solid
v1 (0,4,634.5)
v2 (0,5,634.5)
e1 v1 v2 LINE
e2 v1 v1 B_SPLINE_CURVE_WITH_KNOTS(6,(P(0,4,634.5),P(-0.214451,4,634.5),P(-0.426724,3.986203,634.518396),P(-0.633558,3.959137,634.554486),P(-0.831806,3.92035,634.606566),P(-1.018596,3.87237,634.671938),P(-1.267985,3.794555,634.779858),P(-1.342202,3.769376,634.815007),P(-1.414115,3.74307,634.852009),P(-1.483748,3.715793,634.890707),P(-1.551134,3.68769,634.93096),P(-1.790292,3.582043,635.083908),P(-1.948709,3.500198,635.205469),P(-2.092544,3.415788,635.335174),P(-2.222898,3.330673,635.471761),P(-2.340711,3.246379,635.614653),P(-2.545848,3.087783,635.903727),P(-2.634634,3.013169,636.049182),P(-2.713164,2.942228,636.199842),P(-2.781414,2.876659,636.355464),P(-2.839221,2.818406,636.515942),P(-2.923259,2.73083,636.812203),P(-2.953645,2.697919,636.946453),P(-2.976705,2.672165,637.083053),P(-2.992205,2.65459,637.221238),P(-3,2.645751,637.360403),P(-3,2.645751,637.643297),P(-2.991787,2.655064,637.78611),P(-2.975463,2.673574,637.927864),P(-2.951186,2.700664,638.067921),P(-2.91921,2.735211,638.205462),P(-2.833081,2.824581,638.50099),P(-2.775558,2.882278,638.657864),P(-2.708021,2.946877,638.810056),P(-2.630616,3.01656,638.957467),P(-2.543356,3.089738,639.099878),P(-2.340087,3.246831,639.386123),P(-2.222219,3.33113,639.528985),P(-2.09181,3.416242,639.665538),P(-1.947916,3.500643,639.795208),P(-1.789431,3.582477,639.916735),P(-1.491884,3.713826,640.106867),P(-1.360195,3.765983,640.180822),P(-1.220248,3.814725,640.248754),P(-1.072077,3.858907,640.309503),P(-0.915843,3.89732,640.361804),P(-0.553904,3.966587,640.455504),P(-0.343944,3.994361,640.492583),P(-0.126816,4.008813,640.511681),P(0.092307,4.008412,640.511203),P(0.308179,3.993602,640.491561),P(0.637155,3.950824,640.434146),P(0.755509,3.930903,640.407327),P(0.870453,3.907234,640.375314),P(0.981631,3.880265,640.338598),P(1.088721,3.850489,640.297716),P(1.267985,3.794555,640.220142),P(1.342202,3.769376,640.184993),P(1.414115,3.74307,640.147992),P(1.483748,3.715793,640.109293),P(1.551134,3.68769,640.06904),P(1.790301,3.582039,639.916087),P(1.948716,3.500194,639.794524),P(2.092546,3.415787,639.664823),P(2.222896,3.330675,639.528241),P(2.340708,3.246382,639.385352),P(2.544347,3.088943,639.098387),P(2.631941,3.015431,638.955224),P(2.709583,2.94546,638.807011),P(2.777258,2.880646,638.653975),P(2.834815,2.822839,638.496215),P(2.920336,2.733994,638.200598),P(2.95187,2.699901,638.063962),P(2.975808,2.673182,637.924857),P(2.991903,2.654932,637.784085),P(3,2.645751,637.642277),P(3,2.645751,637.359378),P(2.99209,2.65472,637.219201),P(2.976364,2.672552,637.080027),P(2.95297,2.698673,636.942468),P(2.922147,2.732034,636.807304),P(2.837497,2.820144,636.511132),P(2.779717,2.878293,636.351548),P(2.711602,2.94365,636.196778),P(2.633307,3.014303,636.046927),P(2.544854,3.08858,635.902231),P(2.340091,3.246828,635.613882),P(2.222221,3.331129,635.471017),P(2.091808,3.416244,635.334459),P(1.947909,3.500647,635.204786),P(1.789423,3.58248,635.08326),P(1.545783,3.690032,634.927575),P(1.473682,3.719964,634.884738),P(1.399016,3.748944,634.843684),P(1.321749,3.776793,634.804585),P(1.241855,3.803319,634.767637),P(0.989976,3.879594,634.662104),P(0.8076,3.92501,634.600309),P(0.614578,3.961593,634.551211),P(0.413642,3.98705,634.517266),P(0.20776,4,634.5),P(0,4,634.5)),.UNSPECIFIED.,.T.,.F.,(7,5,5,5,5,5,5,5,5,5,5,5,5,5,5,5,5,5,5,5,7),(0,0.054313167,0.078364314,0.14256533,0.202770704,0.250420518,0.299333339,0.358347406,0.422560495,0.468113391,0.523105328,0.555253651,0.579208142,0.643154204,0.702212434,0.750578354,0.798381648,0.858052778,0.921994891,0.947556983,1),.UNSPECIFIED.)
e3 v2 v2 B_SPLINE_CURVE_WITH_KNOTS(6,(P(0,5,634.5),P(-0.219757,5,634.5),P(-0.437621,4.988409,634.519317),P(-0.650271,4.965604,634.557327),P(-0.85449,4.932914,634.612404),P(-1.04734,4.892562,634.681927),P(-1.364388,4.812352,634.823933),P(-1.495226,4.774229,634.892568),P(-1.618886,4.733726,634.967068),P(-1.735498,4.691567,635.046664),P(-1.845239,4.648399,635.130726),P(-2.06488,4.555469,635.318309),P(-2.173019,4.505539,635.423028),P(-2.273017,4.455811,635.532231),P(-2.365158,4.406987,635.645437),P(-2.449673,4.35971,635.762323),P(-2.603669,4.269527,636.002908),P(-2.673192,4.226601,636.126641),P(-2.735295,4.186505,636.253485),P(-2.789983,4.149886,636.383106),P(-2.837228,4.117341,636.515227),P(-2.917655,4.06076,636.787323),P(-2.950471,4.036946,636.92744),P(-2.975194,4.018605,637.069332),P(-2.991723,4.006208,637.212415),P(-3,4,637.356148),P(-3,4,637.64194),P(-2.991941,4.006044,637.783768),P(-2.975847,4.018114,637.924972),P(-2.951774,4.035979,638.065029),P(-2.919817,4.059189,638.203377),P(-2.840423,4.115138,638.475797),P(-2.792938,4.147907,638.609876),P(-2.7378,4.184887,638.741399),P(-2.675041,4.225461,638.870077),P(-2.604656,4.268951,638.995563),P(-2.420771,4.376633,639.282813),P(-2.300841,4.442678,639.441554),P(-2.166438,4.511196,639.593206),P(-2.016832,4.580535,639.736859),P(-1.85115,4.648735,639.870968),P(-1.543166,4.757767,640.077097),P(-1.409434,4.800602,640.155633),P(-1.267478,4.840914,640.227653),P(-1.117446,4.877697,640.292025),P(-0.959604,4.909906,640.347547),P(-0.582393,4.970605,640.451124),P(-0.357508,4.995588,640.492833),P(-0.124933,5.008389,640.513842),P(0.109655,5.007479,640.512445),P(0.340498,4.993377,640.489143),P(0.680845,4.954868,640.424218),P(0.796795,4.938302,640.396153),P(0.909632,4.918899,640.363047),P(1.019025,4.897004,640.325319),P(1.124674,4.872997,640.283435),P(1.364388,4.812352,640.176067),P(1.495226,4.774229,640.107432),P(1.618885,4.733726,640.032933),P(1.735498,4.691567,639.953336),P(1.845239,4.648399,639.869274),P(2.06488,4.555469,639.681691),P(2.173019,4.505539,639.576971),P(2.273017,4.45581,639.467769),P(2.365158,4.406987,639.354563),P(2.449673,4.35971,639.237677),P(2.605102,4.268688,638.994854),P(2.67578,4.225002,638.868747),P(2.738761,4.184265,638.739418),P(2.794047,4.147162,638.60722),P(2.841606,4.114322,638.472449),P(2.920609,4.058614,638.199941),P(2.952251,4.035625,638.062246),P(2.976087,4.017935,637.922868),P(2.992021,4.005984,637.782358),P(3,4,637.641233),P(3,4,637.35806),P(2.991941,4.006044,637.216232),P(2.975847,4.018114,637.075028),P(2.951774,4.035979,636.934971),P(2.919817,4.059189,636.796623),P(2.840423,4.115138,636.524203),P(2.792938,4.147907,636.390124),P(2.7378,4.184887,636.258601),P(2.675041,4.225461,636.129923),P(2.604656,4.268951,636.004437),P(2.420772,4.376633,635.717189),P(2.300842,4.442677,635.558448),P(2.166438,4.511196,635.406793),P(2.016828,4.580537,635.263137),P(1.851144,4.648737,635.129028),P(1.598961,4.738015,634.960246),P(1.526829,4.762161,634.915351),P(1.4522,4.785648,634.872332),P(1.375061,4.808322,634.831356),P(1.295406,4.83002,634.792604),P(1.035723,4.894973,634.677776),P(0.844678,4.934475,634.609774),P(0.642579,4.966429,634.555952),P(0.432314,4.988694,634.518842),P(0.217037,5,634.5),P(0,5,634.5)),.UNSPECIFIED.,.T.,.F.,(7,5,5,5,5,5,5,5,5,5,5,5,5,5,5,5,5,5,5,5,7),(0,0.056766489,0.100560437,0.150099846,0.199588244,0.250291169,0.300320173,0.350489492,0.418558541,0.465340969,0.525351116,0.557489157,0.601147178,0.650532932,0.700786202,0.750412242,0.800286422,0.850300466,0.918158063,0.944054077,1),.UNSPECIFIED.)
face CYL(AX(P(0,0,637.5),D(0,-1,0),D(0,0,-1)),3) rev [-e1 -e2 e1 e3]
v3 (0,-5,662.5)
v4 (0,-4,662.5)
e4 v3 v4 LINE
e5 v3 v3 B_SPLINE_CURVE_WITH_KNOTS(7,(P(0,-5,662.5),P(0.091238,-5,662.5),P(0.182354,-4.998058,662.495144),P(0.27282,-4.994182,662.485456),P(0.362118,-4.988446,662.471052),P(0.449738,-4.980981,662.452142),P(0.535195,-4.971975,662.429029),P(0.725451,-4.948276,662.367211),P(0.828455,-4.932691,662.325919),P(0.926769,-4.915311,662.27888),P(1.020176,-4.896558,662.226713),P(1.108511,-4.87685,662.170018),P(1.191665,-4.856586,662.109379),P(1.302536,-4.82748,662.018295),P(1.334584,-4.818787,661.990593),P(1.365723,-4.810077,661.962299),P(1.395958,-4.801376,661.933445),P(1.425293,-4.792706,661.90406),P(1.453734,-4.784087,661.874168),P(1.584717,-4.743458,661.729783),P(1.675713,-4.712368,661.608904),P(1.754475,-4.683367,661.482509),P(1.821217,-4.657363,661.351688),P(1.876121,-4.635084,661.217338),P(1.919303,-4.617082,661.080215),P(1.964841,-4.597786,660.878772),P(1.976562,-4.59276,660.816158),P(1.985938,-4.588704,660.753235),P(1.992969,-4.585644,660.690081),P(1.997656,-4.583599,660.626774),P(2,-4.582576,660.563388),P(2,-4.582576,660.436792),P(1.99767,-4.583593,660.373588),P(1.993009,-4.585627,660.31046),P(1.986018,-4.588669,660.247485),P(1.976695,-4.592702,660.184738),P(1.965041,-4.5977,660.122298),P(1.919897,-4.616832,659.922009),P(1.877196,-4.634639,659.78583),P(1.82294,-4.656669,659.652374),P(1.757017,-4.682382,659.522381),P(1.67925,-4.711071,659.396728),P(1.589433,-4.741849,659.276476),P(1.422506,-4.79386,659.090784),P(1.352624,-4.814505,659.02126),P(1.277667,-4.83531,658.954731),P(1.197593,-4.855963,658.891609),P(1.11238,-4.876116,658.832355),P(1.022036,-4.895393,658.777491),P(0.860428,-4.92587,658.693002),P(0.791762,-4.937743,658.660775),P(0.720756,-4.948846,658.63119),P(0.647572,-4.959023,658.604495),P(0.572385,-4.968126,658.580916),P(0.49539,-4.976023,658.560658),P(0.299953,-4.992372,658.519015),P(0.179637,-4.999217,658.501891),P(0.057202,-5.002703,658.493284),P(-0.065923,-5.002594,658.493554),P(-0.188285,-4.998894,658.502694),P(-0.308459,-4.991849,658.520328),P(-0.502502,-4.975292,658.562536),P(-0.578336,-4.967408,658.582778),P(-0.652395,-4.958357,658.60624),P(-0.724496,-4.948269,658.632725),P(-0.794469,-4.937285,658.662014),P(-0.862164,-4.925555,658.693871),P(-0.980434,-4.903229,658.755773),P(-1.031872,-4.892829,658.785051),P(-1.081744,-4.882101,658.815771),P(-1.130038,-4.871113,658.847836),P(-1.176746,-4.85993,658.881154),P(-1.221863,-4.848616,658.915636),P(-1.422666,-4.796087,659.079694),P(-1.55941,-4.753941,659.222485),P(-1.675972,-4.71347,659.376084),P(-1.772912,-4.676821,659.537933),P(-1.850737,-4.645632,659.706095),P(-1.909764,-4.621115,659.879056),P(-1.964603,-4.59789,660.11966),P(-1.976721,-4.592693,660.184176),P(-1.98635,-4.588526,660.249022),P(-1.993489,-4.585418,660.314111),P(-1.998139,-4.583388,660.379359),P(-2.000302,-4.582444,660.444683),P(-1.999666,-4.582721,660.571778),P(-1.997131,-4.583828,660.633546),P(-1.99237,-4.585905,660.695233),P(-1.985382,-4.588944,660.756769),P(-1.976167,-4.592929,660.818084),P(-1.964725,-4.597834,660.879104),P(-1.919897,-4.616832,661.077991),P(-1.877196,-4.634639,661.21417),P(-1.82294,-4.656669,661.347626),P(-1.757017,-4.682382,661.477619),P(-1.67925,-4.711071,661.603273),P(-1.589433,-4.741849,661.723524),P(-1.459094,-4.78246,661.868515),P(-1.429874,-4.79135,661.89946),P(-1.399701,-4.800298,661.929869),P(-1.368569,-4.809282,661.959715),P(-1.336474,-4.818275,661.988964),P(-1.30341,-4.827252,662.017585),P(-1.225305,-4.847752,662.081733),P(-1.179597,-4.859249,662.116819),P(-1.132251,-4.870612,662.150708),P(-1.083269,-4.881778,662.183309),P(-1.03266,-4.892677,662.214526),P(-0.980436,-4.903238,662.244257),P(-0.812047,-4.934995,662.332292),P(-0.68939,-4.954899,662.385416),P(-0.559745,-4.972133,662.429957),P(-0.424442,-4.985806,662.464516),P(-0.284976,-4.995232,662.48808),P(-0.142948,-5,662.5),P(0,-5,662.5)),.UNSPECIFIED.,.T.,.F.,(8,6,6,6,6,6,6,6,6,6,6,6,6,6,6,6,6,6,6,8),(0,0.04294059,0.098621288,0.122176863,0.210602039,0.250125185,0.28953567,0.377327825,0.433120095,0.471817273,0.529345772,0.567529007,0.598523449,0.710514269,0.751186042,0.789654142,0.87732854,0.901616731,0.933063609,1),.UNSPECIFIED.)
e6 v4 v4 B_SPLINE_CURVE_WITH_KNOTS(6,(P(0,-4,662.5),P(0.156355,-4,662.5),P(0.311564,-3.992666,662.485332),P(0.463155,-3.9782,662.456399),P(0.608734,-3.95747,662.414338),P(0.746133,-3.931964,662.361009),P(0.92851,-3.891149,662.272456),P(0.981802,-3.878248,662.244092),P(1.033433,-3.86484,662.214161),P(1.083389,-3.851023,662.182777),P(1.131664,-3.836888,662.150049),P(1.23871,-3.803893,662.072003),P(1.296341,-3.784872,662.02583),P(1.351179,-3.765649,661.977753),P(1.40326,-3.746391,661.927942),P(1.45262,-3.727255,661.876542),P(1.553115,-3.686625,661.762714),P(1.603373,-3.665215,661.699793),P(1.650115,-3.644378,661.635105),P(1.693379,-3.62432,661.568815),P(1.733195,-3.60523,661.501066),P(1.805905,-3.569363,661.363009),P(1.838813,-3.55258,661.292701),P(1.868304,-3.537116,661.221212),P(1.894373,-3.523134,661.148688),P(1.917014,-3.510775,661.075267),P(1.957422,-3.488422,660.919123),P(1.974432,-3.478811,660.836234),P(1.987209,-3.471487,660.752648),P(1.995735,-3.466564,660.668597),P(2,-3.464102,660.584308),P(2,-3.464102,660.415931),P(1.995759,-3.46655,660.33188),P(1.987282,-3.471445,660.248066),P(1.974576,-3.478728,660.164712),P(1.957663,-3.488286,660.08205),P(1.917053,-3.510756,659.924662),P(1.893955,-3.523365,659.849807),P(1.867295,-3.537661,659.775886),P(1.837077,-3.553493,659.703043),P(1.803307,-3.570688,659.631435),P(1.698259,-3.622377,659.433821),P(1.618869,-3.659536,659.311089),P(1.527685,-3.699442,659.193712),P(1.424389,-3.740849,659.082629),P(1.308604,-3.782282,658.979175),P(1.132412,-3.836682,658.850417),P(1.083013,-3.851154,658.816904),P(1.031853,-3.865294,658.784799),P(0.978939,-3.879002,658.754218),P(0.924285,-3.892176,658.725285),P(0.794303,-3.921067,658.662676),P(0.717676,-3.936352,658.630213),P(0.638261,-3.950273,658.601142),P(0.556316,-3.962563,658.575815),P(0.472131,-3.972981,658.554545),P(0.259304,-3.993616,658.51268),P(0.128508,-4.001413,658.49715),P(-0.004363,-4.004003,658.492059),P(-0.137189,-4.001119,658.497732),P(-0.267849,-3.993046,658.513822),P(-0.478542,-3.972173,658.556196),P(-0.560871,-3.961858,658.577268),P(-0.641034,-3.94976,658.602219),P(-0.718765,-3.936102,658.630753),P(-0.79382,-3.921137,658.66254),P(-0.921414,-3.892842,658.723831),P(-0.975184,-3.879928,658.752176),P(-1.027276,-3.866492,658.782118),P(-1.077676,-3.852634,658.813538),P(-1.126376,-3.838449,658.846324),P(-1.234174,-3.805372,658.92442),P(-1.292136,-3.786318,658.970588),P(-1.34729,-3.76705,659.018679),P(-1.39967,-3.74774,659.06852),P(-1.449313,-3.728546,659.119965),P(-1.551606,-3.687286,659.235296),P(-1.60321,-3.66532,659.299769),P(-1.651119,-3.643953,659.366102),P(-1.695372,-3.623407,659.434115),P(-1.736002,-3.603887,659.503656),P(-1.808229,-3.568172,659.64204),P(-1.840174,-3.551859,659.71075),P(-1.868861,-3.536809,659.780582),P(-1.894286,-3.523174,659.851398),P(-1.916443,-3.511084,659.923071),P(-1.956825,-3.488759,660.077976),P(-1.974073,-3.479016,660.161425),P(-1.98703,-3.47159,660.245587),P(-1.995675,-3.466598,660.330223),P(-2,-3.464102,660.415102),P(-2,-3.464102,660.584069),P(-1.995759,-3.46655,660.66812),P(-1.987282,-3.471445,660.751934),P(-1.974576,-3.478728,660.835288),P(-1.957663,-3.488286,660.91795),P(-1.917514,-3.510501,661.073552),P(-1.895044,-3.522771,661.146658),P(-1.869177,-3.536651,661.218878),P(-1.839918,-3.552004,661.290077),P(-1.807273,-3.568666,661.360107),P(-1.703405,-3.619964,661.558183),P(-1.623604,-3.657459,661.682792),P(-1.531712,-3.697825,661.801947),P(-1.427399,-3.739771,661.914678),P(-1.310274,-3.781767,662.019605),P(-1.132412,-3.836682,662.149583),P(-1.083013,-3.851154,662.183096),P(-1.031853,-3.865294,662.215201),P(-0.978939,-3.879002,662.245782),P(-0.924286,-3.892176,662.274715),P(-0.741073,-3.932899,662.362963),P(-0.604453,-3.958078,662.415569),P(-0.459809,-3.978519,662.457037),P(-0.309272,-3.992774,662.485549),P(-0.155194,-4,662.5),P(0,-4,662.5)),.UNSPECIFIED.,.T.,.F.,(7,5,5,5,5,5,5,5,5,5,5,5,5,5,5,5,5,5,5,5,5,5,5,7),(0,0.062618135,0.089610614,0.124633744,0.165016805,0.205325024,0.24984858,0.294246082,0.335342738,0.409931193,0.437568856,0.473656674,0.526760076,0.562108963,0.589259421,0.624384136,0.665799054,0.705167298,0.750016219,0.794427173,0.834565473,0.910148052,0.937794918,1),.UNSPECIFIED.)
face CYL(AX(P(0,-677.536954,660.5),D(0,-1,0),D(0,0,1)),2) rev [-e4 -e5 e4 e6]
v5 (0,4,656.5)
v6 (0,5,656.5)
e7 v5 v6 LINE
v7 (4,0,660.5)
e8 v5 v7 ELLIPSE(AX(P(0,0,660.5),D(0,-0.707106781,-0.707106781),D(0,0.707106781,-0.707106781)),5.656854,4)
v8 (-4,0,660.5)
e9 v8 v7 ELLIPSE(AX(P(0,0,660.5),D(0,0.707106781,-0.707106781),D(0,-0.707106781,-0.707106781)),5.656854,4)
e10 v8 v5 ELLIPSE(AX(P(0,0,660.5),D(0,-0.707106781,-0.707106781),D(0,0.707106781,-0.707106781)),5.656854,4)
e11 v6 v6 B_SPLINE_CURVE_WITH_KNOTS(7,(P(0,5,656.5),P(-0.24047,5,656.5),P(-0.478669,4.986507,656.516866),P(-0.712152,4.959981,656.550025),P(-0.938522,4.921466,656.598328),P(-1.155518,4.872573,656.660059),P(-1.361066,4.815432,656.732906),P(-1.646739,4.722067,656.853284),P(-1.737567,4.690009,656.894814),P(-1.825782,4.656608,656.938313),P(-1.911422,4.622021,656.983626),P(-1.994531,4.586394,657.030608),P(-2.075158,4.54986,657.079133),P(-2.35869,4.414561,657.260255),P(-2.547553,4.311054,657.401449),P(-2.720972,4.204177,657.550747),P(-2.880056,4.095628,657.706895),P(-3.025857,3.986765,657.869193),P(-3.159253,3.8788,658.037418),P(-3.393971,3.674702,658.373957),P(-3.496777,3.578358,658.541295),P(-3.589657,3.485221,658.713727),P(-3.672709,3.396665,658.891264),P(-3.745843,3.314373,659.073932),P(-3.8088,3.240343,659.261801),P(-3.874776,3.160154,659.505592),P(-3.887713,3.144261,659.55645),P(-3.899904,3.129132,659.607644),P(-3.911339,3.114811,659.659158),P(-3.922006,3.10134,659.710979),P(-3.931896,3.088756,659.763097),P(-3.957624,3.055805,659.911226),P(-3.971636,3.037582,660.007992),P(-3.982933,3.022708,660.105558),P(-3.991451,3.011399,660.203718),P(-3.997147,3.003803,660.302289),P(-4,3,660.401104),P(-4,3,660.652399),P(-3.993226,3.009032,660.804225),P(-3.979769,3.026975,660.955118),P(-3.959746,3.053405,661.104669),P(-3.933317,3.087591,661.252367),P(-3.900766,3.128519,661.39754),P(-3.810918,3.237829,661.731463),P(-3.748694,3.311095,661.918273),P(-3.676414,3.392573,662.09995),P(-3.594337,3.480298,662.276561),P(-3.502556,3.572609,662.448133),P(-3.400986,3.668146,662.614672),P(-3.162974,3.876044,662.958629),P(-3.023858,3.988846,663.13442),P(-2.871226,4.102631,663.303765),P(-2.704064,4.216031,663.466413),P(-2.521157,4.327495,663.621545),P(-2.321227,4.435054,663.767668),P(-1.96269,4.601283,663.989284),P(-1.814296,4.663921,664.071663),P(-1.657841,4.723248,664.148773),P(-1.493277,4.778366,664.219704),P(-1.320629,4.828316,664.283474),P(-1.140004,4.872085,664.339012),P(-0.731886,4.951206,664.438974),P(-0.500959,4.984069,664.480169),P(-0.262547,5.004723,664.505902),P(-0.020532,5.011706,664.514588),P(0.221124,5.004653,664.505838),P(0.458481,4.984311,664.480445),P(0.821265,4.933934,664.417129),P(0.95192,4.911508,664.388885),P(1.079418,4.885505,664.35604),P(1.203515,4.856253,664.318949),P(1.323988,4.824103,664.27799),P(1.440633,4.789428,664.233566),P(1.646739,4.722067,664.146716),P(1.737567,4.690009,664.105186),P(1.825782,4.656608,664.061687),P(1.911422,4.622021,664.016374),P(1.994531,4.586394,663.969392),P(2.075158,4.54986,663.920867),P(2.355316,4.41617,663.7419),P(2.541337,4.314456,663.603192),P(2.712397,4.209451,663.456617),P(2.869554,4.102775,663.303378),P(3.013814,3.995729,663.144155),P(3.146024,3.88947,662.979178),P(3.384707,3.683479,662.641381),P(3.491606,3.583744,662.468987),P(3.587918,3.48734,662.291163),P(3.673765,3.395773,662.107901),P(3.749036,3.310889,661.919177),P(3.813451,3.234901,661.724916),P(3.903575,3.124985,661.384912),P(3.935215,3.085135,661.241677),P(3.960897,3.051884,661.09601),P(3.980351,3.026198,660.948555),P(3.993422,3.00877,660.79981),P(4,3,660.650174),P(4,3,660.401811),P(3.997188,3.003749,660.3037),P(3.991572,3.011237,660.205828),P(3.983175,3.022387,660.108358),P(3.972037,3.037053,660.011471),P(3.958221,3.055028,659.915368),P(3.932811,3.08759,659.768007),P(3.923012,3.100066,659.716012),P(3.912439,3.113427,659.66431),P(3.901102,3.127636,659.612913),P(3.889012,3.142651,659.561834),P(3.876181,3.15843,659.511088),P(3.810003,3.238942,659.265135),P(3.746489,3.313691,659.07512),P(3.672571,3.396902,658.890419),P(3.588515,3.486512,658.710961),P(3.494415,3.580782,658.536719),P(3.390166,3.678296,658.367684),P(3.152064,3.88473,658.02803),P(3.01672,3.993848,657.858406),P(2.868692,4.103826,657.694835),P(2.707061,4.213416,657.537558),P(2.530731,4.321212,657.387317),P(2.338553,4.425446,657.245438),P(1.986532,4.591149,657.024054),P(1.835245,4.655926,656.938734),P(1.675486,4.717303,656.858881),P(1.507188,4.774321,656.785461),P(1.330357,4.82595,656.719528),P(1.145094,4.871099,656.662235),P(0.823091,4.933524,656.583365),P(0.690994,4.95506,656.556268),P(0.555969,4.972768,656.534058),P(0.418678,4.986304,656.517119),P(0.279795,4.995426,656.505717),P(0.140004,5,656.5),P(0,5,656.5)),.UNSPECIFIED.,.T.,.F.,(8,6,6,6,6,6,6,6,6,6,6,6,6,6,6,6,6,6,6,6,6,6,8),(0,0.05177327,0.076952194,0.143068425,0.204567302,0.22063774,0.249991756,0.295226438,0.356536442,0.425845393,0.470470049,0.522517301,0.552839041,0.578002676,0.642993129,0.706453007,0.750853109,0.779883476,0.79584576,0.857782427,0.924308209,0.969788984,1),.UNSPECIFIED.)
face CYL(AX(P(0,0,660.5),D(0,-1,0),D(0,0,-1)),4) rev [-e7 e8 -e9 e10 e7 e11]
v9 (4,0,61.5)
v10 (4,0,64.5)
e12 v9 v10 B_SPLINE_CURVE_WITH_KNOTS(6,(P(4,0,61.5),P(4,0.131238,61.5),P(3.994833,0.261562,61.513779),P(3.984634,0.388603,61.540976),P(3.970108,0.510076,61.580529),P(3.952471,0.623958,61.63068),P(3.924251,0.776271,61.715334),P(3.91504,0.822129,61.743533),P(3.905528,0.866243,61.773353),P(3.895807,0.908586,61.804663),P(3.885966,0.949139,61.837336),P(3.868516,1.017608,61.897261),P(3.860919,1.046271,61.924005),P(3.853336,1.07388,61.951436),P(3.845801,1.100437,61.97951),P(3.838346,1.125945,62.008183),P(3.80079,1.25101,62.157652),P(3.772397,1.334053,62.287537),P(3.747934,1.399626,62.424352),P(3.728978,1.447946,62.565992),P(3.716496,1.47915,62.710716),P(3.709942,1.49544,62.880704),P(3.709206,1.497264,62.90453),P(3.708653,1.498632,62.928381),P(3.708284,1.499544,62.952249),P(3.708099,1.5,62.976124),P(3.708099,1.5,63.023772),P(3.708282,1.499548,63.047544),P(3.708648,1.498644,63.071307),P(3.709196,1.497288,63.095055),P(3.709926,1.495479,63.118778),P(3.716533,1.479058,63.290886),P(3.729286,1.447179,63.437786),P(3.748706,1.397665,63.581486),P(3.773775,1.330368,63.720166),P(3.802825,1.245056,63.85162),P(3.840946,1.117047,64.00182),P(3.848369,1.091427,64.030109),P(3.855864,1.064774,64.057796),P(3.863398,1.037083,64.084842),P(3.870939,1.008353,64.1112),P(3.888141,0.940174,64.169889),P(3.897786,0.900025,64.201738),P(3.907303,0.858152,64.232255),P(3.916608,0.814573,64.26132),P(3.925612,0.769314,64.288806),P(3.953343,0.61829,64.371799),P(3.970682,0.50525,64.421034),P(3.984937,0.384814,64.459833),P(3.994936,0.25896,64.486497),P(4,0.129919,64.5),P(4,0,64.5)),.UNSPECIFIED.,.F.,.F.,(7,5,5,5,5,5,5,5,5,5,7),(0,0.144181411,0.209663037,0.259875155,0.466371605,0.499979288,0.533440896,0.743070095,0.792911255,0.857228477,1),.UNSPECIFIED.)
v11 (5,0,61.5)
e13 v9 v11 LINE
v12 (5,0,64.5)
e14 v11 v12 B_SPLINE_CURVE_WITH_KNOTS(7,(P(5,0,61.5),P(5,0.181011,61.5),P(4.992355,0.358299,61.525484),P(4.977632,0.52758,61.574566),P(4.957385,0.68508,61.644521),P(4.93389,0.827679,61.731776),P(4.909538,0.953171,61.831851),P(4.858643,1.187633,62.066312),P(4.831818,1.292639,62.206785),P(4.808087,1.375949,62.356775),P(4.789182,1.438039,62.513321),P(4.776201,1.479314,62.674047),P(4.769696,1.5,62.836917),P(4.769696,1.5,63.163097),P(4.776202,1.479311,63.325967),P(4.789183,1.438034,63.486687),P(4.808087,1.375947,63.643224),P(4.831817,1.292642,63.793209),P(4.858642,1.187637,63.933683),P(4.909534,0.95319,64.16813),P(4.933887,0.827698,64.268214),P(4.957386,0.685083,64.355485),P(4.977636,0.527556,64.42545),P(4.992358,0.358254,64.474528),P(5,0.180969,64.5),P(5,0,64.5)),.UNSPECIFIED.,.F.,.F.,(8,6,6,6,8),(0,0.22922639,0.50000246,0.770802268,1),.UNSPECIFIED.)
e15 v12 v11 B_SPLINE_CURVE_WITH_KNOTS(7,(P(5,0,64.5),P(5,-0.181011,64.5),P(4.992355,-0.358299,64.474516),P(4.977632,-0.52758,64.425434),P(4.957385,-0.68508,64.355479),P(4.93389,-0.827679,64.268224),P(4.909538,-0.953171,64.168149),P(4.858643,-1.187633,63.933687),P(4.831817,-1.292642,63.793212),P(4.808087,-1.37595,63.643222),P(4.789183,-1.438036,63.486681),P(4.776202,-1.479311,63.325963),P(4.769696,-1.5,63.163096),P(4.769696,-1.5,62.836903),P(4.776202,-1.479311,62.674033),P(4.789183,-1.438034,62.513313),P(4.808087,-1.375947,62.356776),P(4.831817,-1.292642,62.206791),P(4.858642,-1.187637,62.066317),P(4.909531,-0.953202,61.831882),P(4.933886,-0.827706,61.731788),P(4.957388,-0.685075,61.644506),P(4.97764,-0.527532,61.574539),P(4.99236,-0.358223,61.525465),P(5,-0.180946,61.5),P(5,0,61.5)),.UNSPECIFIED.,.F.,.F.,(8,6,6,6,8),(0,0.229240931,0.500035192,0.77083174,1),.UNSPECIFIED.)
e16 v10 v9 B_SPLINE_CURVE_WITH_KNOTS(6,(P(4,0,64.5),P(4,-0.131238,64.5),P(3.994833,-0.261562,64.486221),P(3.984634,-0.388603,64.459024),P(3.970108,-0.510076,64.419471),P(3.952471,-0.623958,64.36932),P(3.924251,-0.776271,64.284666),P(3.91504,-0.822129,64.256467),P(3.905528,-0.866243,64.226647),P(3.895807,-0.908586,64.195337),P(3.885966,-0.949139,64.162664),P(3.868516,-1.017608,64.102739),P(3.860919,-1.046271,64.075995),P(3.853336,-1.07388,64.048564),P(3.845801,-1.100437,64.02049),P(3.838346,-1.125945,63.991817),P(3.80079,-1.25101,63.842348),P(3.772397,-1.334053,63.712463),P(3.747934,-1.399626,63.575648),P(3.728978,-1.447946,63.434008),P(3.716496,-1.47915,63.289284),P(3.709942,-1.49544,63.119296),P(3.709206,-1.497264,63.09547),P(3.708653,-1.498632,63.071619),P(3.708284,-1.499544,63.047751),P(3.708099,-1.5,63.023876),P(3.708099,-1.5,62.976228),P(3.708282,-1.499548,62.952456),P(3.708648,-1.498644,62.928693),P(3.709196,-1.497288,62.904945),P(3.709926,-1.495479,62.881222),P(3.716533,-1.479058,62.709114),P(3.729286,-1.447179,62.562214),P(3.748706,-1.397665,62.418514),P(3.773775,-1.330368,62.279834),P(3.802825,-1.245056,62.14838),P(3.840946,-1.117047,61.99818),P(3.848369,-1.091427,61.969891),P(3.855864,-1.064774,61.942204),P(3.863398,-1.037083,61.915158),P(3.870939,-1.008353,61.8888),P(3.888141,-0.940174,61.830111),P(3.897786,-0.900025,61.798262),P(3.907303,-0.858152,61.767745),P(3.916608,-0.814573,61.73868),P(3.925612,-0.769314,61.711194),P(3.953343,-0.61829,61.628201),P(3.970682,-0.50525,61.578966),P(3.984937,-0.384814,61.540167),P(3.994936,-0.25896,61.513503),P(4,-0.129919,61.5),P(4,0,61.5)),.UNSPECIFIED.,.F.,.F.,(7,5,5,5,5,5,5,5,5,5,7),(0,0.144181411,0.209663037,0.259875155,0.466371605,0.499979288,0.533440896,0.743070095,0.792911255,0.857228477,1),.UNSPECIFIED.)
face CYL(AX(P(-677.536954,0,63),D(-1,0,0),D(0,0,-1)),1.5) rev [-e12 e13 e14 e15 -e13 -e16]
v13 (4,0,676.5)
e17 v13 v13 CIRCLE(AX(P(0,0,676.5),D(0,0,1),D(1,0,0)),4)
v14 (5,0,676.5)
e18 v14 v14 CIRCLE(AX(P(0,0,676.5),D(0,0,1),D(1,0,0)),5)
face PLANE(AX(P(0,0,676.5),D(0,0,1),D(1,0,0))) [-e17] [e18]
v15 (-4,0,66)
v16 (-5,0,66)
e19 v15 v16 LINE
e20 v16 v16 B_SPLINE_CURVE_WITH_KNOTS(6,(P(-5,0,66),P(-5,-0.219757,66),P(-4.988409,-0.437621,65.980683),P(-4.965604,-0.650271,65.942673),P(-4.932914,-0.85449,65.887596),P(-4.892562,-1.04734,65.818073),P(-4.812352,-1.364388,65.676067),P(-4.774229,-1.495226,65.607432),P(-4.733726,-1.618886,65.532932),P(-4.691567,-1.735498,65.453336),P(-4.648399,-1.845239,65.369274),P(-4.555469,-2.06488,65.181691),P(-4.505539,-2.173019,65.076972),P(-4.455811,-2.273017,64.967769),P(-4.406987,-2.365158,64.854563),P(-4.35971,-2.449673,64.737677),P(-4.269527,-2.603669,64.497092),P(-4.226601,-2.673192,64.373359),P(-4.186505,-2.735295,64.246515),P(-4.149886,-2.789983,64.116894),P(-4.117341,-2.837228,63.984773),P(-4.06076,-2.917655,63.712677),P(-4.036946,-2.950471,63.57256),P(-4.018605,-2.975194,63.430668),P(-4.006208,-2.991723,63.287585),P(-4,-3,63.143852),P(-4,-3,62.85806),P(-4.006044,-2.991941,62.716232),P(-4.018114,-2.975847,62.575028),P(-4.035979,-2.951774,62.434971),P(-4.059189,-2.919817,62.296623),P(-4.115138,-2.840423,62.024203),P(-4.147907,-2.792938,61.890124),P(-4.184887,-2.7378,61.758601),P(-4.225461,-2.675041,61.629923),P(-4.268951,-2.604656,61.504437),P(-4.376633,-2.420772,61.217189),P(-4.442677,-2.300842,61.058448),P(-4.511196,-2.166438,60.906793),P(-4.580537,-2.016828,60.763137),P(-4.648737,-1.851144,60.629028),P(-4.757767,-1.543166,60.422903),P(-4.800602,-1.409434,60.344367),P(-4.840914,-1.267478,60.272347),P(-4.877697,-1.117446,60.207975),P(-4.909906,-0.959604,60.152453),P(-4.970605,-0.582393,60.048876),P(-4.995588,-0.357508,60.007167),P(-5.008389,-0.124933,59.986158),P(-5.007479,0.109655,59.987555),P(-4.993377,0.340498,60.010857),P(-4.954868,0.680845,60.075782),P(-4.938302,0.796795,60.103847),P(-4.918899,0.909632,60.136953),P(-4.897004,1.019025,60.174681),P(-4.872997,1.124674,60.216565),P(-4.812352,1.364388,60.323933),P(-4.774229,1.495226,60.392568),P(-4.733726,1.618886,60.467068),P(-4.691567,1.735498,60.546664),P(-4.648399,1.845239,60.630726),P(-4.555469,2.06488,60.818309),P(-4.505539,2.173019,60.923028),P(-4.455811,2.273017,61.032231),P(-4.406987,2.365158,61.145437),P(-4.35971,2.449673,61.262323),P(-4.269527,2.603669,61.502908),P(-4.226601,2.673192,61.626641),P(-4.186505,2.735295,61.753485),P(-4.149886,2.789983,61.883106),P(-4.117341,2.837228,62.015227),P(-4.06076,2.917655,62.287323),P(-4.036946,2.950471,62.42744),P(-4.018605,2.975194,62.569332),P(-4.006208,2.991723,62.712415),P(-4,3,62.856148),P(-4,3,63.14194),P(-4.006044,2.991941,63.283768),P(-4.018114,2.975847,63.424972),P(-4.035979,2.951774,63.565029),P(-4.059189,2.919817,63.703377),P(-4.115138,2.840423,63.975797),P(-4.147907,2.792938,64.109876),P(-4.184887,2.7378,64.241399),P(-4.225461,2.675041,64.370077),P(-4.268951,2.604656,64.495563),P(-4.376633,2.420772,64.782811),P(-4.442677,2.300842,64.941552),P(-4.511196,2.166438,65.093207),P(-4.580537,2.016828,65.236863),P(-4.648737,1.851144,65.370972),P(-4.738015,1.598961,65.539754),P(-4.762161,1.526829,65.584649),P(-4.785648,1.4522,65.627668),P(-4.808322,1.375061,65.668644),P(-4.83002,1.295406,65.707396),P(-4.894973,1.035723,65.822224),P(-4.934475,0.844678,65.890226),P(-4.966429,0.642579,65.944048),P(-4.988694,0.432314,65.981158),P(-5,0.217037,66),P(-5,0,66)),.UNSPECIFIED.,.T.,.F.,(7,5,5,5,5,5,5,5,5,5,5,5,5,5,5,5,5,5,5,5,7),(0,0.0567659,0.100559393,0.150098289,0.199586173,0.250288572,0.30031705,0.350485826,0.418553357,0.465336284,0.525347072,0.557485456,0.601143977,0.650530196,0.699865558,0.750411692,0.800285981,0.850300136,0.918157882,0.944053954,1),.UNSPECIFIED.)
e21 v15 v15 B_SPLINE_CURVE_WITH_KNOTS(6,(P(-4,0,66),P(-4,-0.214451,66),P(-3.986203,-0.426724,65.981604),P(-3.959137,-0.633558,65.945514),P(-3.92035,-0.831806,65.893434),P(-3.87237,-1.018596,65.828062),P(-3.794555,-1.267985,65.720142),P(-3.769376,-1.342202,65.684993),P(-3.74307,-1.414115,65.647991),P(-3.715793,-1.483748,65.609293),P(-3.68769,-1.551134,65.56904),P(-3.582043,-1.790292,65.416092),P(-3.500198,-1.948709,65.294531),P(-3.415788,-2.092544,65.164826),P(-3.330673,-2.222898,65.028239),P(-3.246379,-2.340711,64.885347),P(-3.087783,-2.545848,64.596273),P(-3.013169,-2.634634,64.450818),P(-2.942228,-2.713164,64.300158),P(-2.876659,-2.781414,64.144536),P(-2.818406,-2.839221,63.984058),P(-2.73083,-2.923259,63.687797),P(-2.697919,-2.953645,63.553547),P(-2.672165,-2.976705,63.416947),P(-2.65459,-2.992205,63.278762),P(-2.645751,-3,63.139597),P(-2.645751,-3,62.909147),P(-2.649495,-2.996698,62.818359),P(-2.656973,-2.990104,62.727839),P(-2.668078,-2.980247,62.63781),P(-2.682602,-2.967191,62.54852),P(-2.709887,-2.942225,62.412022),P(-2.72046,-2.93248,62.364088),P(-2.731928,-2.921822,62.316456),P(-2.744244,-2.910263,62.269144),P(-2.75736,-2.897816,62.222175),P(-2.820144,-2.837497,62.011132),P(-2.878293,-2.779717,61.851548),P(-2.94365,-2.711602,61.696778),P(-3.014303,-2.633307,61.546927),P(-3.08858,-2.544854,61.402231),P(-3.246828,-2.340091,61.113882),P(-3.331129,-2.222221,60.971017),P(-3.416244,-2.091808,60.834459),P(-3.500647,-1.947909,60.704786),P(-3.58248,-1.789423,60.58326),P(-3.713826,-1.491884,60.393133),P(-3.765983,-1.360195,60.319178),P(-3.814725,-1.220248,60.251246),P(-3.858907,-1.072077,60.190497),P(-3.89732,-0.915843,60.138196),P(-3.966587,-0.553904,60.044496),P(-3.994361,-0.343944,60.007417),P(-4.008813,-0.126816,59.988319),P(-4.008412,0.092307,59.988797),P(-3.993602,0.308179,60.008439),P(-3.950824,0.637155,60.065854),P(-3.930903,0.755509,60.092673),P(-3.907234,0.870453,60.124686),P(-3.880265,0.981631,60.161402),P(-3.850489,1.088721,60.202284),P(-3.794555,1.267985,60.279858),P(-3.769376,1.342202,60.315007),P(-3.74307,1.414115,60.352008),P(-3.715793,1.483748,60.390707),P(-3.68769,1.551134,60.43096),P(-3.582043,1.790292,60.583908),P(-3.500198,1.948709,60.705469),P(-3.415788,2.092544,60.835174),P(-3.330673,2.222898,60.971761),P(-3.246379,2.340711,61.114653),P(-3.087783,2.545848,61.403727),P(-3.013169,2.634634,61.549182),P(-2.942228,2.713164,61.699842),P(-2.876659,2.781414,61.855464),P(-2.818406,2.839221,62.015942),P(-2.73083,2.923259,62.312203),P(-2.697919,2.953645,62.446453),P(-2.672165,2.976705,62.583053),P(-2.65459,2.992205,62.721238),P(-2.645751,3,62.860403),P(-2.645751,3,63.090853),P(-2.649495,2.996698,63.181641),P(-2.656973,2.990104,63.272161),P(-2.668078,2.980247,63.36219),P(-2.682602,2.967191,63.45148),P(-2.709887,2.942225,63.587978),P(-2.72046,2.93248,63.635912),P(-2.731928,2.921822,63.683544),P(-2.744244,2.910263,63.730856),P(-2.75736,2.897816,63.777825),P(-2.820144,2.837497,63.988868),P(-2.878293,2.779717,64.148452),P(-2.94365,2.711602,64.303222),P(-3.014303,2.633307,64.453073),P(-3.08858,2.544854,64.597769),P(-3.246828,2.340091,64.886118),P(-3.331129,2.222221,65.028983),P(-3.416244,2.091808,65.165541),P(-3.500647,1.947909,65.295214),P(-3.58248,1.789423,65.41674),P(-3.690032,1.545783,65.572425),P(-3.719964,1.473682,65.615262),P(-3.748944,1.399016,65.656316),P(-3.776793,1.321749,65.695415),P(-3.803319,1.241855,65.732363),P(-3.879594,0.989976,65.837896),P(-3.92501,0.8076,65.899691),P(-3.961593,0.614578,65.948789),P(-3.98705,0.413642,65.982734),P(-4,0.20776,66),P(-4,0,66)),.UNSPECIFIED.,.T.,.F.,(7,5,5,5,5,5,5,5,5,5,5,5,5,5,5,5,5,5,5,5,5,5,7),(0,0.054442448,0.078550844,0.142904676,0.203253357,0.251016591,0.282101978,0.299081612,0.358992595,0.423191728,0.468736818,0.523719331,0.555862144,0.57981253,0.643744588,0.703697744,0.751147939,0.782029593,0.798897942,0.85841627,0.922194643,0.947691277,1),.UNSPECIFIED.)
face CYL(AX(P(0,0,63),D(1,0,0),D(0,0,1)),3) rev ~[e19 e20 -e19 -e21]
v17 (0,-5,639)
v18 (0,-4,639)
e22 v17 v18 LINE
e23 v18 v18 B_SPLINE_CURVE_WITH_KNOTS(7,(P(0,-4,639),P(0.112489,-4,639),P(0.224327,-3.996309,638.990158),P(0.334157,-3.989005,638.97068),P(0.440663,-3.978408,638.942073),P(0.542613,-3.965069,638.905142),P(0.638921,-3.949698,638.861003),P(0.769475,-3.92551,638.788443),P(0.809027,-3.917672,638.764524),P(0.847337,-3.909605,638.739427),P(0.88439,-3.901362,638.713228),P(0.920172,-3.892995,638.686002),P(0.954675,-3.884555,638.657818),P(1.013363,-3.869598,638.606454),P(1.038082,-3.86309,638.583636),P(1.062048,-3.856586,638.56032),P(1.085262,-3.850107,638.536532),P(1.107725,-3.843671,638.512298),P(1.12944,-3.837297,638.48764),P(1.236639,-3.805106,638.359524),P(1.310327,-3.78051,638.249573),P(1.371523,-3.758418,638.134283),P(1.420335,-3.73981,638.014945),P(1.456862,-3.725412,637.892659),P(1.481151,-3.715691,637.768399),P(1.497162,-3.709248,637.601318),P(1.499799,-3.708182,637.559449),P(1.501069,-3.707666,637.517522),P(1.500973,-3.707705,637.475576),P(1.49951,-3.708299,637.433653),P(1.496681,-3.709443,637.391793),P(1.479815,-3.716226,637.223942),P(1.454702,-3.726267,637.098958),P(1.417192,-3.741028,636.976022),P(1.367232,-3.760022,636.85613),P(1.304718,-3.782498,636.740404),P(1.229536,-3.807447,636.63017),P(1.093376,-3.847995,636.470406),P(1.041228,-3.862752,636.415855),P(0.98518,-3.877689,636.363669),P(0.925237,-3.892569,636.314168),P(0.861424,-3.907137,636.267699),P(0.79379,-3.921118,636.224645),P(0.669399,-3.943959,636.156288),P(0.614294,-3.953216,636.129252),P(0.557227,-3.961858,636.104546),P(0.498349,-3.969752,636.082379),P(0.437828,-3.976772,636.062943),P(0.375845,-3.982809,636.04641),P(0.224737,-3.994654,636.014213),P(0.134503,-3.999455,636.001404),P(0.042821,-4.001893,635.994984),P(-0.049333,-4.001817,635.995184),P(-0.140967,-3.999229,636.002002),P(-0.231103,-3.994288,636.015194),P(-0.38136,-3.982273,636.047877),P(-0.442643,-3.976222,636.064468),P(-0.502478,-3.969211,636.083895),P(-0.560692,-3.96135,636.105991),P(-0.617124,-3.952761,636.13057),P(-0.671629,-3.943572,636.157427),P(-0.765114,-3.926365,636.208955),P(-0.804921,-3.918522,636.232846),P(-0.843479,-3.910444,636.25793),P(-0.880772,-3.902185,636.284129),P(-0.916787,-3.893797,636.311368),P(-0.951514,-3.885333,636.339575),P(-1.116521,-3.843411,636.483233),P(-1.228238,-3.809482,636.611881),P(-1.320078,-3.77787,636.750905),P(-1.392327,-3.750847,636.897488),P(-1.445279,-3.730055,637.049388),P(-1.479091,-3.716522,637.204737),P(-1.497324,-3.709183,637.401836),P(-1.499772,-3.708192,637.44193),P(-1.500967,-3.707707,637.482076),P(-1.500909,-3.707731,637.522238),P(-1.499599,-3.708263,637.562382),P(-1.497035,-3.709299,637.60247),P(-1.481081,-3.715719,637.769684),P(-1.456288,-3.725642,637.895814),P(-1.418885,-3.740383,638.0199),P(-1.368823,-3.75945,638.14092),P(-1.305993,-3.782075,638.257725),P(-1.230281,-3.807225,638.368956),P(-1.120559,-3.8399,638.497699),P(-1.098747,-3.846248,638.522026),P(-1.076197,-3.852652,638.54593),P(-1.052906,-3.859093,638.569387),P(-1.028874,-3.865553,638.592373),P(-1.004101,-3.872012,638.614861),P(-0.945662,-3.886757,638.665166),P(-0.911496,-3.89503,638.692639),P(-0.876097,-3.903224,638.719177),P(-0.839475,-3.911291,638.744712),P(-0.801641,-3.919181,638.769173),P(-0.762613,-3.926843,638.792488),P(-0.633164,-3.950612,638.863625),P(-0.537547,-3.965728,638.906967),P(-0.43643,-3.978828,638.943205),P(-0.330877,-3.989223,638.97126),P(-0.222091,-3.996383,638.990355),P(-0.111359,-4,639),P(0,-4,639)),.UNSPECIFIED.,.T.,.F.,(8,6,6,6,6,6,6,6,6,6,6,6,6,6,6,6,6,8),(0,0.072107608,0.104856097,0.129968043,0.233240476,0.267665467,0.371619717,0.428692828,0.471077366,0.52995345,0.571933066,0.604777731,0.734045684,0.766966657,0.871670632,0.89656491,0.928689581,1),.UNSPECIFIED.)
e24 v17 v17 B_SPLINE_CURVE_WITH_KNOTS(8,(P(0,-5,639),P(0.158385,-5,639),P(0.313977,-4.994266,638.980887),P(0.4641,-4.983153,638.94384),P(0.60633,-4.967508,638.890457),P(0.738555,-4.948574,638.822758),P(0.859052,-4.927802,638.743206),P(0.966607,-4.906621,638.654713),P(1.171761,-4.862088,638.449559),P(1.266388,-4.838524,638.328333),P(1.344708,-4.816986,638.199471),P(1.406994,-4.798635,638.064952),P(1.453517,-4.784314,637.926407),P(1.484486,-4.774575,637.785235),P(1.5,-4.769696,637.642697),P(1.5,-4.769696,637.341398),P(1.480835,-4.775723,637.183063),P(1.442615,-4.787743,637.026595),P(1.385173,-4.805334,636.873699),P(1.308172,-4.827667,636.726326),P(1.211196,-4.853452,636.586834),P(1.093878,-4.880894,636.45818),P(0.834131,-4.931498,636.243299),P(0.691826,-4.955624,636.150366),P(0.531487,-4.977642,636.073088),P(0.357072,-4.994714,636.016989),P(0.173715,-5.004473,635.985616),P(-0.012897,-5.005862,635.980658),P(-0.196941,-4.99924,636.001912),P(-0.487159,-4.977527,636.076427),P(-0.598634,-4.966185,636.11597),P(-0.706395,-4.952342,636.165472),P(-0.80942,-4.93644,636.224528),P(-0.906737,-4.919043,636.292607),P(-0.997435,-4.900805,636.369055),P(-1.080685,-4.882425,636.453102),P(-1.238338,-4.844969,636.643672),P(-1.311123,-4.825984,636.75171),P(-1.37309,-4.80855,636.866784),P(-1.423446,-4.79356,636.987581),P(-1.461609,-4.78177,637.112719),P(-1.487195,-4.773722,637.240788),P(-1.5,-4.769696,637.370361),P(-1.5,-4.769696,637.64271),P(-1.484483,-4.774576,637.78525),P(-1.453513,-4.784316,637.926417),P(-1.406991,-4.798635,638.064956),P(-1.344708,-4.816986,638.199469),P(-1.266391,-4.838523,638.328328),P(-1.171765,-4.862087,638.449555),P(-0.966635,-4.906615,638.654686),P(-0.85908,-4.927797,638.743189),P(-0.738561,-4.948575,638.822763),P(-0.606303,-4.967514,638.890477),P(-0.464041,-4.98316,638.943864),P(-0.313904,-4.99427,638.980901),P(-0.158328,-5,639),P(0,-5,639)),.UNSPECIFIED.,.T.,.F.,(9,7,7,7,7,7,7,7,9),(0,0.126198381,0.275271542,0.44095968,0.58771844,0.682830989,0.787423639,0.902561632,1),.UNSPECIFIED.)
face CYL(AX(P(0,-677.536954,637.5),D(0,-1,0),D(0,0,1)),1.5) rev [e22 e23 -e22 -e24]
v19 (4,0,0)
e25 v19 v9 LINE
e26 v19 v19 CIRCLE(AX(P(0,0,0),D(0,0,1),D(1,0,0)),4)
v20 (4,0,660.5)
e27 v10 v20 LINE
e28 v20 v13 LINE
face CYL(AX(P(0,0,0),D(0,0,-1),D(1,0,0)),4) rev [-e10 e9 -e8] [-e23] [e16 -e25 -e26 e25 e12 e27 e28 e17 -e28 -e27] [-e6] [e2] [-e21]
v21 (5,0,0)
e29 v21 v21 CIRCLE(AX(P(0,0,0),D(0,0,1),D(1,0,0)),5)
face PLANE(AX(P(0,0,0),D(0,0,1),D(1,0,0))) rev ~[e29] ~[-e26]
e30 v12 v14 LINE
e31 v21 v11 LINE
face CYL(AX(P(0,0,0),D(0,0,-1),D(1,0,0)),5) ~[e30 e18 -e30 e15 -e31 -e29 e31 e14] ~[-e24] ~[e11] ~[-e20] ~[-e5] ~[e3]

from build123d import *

# Parameters (mm, degrees)
SKETCH_1_R               = 5
SKETCH_1_R_2             = 4
EXTRUDE_1_DEPTH          = 676.5
CUT_EXTRUDE_1_DEPTH      = 677.536953906
CUT_EXTRUDE_1_DEPTH_BACK = 677.536953906
SKETCH_2_R               = 2
SKETCH_2_R_2             = 1.5
SKETCH_2_3_R             = 4
SKETCH_2_3_R_2           = 3
CUT_EXTRUDE_2_DEPTH      = 677.536954007
CUT_EXTRUDE_3_DEPTH      = 677.536954007
CUT_EXTRUDE_3_DEPTH_BACK = 677.536954007
SKETCH_3_R               = 1.5
SKETCH_3_3_R             = 3
CUT_EXTRUDE_4_DEPTH      = 10


with BuildPart() as part:
    # ｽｹｯﾁ1 → 押し出し-薄板1 (new body)
    with BuildSketch(Plane.XY):
        Circle(SKETCH_1_R)
        Circle(SKETCH_1_R_2, mode=Mode.SUBTRACT)
    extrude(amount=EXTRUDE_1_DEPTH)

    # ｽｹｯﾁ2 → ｶｯﾄ - 押し出し1 (cut, two sides: drawn at the far end of the back side and taken through both)
    with BuildSketch(Plane(origin=(0, 0, 0), x_dir=(1, 0, 0), z_dir=(0, 1, 0)).offset(-CUT_EXTRUDE_1_DEPTH_BACK)):
        with Locations((0, -660.5)):
            Circle(SKETCH_2_R)
        with Locations((0, -637.5)):
            Circle(SKETCH_2_R_2)
    extrude(amount=CUT_EXTRUDE_1_DEPTH + CUT_EXTRUDE_1_DEPTH_BACK, mode=Mode.SUBTRACT)

    # ｽｹｯﾁ2<3> → ｶｯﾄ - 押し出し2 (cut, through all)
    with BuildSketch(Plane(origin=(0, 0, 0), x_dir=(1, 0, 0), z_dir=(0, 1, 0))):
        with Locations((0, -660.5)):
            Circle(SKETCH_2_3_R)
        with Locations((0, -637.5)):
            Circle(SKETCH_2_3_R_2)
    extrude(amount=CUT_EXTRUDE_2_DEPTH, mode=Mode.SUBTRACT)

    # ｽｹｯﾁ3 → ｶｯﾄ - 押し出し3 (cut, two sides: drawn at the far end of the back side and taken through both)
    with BuildSketch(Plane(origin=(0, 0, 0), x_dir=(0, 0, -1), z_dir=(1, 0, 0)).offset(-CUT_EXTRUDE_3_DEPTH_BACK)):
        with Locations((-63, 0)):
            Circle(SKETCH_3_R)
    extrude(amount=CUT_EXTRUDE_3_DEPTH + CUT_EXTRUDE_3_DEPTH_BACK, mode=Mode.SUBTRACT)

    # ｽｹｯﾁ3<3> → ｶｯﾄ - 押し出し4 (cut)
    with BuildSketch(Plane(origin=(0, 0, 0), x_dir=(0, 0, -1), z_dir=(1, 0, 0))):
        with Locations((-63, 0)):
            Circle(SKETCH_3_3_R)
    extrude(amount=-CUT_EXTRUDE_4_DEPTH, mode=Mode.SUBTRACT)


solid = part.part
